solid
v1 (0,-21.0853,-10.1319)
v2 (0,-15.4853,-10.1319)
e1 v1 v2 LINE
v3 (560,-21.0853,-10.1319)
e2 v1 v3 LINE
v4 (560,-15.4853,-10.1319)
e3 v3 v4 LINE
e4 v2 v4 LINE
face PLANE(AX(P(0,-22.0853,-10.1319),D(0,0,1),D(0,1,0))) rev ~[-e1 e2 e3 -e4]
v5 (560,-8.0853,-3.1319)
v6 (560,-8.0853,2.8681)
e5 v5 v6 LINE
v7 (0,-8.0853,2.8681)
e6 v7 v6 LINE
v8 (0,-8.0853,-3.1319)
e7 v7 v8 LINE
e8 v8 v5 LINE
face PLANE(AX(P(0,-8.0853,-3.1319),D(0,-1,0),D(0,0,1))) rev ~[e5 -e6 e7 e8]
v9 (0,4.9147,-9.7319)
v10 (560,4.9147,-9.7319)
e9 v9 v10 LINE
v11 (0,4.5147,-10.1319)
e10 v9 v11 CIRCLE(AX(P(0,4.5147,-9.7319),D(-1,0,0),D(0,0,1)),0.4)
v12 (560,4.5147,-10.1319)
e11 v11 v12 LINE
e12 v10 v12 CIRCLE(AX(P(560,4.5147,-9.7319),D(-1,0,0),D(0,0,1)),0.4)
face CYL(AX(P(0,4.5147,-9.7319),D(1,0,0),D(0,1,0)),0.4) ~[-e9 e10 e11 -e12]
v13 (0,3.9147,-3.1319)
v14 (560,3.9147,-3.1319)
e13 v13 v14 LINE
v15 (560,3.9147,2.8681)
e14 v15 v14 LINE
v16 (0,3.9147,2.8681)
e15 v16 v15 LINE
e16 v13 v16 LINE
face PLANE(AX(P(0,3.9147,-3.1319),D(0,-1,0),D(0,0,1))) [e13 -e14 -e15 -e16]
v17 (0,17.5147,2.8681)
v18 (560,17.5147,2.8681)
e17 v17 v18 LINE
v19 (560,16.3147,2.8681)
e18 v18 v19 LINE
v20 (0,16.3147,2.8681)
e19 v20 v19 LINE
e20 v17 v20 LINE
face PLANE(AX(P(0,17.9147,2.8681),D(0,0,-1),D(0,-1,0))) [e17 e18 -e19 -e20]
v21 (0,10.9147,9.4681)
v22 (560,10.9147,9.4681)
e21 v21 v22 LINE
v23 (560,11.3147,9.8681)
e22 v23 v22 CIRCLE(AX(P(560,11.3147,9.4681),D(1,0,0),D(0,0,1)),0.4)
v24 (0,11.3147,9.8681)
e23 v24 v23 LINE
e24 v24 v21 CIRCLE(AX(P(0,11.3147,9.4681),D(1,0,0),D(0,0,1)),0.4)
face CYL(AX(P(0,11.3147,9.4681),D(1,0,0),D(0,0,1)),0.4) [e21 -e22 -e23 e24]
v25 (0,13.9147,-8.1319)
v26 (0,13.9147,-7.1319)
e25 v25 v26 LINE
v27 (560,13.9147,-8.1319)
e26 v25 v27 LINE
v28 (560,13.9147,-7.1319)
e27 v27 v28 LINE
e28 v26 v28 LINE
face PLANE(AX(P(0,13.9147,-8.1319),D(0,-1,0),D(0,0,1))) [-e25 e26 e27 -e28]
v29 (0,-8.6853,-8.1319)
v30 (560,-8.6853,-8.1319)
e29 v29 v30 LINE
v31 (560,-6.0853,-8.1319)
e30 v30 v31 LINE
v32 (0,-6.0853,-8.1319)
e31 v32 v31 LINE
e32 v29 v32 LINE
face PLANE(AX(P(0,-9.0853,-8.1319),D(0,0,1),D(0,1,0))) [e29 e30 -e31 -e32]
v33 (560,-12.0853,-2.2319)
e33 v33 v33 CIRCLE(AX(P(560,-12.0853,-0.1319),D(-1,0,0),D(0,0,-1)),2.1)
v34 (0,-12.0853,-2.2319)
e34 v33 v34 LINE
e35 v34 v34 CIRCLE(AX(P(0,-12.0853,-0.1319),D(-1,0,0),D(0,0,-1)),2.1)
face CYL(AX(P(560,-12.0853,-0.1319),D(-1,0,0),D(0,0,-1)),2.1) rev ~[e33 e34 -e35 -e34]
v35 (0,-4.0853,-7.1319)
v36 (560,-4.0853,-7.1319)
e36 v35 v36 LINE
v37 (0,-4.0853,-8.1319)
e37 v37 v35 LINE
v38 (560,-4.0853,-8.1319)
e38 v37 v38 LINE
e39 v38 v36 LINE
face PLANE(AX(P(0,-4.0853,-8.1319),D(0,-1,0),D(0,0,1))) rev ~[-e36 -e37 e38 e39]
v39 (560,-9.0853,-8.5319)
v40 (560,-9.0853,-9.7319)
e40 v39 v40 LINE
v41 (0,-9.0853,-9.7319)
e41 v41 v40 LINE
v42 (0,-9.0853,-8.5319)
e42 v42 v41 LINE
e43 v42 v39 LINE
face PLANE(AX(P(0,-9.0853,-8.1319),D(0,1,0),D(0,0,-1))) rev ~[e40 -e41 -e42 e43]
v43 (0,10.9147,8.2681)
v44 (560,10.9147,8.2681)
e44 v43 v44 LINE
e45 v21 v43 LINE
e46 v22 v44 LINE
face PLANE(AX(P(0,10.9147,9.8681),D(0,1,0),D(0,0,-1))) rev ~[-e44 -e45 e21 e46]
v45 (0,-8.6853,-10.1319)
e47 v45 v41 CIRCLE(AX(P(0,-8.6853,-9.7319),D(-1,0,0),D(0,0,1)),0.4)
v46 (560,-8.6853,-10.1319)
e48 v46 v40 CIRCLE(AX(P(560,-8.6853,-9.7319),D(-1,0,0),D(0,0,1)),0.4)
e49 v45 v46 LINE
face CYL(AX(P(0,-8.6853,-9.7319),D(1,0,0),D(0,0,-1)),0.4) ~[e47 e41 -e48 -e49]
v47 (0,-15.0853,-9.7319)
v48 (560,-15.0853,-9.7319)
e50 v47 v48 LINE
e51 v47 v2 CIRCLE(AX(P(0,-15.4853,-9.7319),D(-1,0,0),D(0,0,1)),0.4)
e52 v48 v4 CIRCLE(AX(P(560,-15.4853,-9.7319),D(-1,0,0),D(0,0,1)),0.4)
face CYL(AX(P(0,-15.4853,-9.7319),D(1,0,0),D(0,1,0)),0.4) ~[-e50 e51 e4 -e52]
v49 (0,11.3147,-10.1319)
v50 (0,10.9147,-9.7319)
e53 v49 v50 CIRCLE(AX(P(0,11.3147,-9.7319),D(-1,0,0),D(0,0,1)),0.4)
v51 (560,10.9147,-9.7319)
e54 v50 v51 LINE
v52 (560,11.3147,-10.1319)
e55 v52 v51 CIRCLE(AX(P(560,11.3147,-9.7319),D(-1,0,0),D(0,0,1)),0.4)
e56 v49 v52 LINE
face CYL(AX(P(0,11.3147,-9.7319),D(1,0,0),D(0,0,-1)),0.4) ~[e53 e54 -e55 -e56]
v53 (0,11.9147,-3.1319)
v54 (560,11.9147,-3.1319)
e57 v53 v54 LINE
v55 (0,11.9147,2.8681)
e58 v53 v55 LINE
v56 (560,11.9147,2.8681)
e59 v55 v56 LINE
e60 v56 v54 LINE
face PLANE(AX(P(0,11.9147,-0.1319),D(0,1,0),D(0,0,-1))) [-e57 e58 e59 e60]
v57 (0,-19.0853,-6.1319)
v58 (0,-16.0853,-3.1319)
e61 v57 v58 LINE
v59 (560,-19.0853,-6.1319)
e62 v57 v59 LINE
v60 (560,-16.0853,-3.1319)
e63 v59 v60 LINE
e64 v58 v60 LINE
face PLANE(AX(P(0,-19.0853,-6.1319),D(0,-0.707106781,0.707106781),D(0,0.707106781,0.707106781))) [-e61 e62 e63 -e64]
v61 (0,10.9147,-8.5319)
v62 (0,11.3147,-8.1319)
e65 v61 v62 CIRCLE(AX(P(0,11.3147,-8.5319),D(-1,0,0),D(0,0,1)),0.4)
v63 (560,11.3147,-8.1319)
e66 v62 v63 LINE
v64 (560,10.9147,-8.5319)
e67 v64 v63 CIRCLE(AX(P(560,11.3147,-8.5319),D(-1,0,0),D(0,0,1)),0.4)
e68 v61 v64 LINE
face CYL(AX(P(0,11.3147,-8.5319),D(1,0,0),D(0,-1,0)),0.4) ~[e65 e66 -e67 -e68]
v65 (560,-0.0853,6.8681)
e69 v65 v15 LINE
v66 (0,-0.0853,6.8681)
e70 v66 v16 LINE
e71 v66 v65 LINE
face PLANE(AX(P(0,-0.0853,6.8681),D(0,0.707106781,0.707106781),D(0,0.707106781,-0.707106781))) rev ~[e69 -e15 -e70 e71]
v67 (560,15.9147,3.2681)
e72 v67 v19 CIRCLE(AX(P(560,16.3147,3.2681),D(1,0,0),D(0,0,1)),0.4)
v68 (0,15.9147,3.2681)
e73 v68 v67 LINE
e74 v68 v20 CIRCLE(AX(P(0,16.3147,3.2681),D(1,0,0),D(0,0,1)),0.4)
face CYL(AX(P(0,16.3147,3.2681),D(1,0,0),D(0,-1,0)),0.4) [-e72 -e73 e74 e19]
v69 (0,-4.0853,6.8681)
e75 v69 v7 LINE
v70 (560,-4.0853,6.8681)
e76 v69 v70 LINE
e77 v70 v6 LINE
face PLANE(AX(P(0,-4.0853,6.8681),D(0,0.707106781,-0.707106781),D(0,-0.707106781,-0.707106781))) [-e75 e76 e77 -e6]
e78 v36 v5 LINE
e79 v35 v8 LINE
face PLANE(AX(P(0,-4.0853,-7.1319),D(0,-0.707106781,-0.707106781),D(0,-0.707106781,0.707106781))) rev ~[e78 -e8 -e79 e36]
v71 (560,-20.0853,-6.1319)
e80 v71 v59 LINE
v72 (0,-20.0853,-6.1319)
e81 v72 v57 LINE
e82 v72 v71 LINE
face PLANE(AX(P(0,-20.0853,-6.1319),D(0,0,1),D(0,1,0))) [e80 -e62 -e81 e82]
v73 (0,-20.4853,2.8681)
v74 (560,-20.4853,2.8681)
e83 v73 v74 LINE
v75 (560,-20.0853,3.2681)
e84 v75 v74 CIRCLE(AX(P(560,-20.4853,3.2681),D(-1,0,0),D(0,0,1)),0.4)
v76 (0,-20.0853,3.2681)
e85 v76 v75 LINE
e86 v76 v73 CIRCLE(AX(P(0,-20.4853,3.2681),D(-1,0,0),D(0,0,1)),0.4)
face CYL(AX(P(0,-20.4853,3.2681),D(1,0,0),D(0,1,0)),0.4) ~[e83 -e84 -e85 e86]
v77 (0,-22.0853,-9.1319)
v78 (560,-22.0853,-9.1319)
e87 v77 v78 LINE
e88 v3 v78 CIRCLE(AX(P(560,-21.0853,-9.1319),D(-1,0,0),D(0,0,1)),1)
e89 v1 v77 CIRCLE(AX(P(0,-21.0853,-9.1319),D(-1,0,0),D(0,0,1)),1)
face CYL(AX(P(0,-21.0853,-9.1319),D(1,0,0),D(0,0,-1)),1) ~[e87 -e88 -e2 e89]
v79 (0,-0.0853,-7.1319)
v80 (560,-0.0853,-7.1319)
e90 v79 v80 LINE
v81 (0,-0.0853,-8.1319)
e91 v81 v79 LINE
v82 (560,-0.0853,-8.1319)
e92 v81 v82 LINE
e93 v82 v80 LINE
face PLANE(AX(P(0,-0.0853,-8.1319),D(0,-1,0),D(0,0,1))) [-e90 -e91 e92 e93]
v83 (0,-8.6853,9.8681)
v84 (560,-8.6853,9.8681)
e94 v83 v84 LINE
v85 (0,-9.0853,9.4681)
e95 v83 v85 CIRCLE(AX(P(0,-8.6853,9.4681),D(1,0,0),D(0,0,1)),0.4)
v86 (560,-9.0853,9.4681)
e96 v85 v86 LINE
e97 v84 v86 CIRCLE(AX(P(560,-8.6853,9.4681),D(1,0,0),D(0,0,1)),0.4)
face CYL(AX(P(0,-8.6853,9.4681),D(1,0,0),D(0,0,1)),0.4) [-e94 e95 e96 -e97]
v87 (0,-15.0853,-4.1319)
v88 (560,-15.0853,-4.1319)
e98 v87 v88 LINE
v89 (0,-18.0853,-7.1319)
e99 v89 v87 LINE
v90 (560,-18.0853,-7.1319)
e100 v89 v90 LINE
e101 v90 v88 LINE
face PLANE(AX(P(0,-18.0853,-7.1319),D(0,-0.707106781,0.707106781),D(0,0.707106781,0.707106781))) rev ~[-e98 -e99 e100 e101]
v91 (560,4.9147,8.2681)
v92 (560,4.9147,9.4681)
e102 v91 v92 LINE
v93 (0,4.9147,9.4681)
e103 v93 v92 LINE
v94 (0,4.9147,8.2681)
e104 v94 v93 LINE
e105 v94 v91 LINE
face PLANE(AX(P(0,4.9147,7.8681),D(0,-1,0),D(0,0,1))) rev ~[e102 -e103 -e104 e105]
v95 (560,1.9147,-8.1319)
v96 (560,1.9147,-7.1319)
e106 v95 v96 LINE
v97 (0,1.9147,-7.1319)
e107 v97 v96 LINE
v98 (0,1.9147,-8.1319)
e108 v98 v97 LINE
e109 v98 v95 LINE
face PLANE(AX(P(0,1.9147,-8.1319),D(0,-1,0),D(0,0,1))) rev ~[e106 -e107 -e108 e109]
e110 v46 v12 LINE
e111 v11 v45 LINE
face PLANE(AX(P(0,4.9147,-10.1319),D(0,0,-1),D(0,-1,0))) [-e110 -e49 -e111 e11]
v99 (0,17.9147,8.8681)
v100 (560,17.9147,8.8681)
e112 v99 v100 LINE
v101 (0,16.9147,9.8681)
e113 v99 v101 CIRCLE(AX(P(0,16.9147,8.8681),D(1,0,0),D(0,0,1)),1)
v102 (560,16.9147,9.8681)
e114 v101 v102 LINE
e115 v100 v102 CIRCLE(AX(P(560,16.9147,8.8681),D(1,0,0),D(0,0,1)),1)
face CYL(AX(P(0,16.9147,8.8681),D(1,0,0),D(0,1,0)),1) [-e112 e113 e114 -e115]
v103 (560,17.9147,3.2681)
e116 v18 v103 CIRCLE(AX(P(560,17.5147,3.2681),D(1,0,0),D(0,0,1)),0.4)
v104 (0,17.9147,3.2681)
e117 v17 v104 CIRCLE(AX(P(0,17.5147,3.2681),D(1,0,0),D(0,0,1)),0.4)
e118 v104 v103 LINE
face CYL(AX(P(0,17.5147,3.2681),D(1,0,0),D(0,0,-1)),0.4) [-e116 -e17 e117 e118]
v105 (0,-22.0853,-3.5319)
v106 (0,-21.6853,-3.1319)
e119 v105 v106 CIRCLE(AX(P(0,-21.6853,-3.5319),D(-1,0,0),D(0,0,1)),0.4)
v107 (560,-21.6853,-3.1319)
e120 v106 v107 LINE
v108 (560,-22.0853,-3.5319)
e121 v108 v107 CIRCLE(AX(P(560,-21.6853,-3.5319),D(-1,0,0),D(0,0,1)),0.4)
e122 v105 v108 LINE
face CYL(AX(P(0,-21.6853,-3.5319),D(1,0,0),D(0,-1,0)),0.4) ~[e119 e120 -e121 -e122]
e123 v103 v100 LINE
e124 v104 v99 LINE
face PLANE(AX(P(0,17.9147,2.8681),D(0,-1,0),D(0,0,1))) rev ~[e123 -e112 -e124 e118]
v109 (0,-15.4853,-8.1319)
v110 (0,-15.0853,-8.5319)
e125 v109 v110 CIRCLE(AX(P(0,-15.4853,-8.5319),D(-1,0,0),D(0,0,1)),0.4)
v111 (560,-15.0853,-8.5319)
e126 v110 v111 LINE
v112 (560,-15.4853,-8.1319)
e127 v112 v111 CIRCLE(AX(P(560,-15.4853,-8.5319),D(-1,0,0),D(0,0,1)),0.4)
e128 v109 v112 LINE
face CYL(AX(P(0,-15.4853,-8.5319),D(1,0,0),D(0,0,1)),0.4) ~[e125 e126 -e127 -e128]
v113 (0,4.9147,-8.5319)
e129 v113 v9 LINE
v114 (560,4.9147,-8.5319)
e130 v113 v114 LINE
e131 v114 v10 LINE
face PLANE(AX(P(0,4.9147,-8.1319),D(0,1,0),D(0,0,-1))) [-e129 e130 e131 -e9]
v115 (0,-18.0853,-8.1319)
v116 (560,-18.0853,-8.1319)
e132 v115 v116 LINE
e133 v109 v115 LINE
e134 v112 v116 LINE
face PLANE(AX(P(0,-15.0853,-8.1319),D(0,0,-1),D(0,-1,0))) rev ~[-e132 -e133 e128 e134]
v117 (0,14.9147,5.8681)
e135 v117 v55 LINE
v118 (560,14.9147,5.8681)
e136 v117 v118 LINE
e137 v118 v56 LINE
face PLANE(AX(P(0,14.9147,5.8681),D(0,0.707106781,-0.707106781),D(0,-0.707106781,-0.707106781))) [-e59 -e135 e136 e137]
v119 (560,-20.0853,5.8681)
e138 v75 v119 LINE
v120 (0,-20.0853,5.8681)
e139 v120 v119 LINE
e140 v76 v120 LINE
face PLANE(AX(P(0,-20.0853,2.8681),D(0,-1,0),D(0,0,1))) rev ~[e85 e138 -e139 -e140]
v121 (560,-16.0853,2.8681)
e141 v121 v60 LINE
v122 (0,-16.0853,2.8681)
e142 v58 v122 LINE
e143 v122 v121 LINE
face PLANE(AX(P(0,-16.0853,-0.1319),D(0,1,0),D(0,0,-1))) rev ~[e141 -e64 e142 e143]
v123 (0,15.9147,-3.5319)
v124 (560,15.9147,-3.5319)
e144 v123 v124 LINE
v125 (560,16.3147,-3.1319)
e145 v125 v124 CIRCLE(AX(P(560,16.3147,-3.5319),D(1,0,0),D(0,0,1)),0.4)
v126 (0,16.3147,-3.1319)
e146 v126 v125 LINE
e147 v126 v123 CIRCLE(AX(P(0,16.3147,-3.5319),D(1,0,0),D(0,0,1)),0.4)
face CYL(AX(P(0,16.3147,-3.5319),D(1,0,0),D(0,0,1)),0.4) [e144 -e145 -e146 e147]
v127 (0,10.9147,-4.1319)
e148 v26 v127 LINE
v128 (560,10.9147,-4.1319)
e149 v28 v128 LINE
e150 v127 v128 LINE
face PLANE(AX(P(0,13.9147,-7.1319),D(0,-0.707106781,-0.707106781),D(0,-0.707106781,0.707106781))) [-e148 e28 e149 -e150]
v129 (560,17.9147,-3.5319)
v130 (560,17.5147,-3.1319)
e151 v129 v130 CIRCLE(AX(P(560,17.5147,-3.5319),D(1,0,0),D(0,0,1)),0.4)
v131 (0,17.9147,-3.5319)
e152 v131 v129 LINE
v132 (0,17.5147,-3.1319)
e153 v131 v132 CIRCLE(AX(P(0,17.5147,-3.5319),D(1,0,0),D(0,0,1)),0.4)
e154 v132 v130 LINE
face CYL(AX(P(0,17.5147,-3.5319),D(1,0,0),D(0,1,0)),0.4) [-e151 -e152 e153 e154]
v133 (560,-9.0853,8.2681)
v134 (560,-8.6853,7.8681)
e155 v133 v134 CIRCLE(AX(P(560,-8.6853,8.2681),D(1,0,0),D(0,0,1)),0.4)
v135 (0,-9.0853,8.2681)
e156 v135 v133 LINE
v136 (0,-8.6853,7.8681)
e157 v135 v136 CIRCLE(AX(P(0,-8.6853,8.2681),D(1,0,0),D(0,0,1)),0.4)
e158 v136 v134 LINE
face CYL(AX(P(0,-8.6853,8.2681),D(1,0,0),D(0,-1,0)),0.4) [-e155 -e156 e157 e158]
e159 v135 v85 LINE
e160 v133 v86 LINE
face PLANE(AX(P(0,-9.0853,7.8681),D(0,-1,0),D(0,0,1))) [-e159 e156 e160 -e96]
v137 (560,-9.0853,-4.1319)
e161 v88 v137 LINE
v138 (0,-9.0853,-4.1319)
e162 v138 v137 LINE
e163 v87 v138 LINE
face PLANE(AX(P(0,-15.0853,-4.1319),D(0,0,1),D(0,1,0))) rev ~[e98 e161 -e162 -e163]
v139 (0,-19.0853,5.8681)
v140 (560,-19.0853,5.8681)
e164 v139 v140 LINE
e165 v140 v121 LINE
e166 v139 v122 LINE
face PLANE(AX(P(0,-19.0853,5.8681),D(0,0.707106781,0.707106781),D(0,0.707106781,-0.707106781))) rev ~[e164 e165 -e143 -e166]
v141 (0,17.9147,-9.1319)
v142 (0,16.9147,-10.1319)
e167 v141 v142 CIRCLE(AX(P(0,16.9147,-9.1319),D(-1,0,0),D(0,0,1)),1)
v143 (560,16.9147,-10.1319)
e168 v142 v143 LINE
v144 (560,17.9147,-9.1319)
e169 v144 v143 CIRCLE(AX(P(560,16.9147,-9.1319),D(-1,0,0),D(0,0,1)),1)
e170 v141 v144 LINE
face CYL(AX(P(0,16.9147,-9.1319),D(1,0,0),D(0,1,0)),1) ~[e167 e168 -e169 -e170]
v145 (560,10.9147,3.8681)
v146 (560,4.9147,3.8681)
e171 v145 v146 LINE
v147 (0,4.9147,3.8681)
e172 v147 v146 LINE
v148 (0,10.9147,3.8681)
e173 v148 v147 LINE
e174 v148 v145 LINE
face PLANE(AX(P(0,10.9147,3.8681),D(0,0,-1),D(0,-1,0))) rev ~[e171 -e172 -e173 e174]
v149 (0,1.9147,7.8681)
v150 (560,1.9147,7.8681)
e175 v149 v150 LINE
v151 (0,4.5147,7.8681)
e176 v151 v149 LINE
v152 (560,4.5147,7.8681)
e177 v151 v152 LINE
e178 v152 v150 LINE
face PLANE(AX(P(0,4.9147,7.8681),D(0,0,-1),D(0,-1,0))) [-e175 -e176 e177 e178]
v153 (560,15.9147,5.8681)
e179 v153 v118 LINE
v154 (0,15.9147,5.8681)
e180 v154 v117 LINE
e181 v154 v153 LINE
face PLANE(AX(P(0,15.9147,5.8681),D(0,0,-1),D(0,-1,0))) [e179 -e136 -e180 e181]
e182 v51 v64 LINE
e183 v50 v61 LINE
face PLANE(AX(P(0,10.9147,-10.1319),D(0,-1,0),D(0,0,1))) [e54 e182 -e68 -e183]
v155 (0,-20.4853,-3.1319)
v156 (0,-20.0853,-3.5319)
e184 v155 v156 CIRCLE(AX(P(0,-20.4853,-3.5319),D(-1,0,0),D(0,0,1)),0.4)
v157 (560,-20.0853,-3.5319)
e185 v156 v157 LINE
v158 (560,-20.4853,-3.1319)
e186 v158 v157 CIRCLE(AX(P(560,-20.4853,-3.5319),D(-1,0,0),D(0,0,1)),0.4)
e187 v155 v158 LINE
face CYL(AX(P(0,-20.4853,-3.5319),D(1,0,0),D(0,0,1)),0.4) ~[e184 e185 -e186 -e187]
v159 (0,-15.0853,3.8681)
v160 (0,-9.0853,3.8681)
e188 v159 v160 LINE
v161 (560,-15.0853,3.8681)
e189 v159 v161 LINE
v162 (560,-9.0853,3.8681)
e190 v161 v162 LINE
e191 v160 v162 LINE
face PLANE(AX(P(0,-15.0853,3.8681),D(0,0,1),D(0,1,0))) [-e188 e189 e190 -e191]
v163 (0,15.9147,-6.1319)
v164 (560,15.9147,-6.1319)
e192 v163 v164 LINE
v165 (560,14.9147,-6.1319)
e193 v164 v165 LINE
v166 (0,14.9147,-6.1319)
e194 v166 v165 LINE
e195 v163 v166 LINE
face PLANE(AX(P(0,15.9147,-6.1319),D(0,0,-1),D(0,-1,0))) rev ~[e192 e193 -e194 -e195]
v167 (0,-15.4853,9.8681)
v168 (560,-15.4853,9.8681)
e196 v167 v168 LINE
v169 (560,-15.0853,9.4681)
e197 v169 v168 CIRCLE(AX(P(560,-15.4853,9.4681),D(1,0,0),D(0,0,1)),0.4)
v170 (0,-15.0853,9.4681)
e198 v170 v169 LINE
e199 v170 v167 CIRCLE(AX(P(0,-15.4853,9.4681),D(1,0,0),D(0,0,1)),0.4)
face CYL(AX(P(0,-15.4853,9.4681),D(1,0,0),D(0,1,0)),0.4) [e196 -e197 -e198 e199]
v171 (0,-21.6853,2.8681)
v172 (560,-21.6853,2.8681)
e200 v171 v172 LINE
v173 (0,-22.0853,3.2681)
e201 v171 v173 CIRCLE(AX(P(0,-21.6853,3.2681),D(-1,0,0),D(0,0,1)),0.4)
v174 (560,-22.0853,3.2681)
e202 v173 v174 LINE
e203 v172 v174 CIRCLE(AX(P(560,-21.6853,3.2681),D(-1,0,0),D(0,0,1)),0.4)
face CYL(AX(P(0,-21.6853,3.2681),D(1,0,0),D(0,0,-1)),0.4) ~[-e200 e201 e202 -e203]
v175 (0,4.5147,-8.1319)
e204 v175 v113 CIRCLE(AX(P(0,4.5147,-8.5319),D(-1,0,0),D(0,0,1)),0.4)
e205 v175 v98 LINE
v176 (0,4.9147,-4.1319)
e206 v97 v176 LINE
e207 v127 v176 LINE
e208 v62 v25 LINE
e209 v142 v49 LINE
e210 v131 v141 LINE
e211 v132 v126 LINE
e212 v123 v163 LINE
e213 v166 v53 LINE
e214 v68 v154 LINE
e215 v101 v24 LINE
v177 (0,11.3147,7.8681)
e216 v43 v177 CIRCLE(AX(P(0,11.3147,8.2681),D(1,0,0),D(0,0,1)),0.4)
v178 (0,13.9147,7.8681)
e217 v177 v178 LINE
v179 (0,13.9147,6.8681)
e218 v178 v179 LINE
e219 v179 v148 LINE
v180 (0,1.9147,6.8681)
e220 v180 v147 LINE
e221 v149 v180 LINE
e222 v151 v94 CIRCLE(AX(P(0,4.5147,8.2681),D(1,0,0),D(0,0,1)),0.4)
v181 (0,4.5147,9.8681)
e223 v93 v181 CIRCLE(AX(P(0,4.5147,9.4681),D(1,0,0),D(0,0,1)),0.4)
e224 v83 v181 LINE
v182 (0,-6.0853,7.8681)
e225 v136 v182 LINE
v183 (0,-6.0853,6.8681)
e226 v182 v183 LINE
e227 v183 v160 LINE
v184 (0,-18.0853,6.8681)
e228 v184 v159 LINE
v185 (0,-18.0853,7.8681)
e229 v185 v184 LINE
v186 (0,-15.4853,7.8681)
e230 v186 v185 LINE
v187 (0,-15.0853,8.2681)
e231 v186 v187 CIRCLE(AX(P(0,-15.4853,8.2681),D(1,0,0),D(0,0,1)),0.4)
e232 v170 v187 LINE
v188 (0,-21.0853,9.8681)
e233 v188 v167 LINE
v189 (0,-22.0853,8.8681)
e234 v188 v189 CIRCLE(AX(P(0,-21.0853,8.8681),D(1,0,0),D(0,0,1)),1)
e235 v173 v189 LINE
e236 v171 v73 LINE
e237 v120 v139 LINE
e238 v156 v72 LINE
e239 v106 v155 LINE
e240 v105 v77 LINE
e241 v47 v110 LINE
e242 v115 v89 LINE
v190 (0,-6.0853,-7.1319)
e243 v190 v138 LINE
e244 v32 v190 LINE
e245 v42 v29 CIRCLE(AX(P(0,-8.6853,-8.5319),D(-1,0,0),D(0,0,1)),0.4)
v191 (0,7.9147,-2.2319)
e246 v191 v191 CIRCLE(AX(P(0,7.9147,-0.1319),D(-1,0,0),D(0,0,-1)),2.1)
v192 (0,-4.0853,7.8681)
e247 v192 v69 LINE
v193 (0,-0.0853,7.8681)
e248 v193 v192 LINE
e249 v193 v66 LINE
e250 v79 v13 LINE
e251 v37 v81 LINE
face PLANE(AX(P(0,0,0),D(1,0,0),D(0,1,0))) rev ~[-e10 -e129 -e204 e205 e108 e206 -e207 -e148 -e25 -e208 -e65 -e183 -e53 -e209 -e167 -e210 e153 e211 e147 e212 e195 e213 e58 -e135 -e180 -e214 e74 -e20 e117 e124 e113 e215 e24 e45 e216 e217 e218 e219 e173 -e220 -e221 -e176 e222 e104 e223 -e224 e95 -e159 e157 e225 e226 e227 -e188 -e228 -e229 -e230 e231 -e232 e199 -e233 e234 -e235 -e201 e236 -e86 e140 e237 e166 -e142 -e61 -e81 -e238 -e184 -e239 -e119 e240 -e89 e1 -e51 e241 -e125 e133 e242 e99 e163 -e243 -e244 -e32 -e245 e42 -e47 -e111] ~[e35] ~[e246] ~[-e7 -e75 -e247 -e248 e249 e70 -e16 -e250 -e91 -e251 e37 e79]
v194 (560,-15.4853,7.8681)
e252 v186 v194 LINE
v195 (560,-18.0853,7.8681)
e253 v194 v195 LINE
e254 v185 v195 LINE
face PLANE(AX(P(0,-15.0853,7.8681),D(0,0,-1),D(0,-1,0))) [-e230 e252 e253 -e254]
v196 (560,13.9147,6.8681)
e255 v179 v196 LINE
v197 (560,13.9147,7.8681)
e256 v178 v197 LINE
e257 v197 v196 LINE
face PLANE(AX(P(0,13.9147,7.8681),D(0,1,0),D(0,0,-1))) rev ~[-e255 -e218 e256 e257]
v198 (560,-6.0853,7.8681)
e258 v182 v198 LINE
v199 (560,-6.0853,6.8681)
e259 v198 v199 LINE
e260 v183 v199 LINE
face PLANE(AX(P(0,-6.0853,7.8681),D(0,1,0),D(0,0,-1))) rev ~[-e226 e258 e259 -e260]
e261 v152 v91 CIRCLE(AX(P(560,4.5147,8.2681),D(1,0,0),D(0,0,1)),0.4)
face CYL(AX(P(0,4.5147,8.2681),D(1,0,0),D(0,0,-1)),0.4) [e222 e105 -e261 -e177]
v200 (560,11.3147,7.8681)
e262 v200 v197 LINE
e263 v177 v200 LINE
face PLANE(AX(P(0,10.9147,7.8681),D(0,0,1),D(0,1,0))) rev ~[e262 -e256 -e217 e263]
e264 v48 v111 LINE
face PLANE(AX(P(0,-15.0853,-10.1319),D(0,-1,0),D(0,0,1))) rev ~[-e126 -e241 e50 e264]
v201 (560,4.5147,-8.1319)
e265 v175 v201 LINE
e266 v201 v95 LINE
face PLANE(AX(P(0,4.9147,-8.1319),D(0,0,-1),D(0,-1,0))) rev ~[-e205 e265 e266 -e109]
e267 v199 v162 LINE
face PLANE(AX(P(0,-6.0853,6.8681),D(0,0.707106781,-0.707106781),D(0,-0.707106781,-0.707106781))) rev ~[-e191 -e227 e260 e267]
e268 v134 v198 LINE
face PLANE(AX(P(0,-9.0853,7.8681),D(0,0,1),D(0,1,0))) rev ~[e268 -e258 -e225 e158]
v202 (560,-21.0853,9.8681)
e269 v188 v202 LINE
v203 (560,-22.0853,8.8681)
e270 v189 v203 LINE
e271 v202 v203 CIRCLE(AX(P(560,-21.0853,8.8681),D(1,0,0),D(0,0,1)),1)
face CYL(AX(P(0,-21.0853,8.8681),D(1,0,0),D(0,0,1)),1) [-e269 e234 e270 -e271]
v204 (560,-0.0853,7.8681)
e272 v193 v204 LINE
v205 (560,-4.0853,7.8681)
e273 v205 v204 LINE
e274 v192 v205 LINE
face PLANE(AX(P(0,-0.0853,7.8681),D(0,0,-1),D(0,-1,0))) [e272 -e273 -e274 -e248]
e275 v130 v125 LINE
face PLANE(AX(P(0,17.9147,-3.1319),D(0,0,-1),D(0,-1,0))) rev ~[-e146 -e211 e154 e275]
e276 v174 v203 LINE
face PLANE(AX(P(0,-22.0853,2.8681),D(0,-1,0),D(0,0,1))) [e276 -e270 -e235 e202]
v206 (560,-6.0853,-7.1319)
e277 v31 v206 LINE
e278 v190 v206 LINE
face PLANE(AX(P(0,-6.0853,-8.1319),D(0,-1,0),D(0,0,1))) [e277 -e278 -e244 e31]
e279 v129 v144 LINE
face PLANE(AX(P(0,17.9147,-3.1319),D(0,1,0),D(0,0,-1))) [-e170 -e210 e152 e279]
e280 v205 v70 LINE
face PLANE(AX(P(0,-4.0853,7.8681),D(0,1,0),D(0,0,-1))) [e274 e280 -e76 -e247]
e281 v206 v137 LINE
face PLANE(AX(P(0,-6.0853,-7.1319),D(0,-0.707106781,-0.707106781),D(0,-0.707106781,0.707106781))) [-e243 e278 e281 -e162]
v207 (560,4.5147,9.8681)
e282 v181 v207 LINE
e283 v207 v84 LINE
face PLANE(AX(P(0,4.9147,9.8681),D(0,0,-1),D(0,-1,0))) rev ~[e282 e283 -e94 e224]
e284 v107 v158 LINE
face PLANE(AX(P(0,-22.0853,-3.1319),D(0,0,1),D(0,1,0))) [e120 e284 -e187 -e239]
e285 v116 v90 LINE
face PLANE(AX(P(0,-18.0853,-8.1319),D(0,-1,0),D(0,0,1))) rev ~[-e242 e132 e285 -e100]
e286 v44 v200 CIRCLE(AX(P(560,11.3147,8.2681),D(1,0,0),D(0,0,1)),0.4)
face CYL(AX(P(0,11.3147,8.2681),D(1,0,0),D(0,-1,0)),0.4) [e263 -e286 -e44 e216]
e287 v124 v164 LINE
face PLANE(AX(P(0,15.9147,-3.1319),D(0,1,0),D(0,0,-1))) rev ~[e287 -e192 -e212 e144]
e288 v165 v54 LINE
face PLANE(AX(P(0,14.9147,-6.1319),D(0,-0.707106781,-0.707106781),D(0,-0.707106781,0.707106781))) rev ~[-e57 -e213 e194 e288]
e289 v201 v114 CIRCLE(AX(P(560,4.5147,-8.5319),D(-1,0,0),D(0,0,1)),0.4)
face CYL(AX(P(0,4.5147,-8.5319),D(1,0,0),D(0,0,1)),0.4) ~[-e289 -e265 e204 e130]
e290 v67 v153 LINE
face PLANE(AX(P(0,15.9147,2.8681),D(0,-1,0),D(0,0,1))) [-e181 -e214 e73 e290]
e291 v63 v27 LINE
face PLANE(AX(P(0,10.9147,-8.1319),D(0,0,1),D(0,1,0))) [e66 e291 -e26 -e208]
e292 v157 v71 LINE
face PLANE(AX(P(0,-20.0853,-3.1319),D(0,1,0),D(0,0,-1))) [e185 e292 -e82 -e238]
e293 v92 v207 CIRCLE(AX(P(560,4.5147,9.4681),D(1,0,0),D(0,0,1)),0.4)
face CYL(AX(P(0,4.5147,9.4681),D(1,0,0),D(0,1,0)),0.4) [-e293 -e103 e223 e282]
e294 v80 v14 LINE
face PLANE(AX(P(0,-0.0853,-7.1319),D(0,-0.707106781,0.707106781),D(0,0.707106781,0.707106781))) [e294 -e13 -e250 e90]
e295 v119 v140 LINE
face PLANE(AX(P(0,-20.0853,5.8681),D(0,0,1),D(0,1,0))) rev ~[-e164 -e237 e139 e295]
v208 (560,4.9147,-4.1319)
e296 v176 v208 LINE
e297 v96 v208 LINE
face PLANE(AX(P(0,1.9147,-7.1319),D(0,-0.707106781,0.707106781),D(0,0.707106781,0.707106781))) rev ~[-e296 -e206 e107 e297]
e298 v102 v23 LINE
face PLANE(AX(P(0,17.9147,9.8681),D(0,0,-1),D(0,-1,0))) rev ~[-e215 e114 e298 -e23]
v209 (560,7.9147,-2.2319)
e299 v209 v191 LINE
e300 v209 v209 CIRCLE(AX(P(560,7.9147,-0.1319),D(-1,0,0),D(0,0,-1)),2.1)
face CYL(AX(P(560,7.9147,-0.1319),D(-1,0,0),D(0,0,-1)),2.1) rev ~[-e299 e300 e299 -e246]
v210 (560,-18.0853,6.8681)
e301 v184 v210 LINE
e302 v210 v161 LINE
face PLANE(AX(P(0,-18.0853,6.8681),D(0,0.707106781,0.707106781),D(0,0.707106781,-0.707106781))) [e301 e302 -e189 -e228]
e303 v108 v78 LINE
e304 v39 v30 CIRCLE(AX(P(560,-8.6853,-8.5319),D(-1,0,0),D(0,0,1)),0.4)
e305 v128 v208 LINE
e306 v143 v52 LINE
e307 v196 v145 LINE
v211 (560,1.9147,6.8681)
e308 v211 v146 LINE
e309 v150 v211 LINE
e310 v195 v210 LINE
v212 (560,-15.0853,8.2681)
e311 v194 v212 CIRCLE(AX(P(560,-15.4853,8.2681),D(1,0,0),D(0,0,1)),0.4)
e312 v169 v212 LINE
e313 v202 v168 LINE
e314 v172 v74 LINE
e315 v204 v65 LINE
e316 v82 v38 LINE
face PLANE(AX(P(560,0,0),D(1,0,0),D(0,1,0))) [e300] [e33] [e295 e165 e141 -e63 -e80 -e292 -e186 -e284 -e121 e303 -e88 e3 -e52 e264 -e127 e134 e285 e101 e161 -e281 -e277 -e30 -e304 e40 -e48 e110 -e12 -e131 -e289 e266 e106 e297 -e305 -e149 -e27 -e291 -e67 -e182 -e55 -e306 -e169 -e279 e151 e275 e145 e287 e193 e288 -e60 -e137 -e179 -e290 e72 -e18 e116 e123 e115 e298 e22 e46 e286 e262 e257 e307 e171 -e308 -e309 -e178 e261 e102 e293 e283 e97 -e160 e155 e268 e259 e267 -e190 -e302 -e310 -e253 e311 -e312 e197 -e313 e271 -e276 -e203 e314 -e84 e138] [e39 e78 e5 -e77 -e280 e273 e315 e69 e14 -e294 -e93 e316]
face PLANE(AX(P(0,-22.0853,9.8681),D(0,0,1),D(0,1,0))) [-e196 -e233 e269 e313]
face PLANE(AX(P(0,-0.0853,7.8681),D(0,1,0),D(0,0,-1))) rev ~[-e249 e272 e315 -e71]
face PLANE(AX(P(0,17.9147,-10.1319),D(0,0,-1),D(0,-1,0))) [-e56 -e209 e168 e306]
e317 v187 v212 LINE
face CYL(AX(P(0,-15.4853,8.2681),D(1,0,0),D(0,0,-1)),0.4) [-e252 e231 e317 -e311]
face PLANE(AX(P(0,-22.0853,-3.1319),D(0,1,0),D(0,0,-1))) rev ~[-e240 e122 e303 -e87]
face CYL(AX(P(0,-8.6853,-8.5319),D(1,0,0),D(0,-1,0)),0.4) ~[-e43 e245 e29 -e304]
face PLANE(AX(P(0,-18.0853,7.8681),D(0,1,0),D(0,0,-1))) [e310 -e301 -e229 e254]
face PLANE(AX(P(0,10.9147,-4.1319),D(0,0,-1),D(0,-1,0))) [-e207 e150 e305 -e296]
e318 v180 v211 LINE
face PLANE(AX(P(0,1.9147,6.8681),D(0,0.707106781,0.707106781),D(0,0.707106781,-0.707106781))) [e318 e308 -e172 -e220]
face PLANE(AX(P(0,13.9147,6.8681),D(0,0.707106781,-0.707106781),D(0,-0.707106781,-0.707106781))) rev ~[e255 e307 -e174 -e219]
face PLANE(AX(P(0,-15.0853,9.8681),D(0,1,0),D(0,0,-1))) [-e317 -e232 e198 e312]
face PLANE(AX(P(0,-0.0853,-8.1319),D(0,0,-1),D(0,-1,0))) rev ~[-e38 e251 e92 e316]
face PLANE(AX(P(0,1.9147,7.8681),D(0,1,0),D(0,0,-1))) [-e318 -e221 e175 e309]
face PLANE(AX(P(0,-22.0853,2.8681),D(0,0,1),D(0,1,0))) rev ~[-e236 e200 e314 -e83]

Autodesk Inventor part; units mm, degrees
ref_plane "YZ Plane" through (0, 0, 0) normal (1, 0, 0) x (0, 1, 0)
ref_plane "XZ Plane" through (0, 0, 0) normal (0, 1, 0) x (-1, 0, 0)
ref_plane "XY Plane" through (0, 0, 0) normal (0, 0, 1) x (1, 0, 0)
sketch "Szkic1" plane through (0, 0, 0) normal (1, 0, 0) x (0, 1, 0)
  line L0 (23.5169, -0.1319) -> (-36.4831, -0.1319)
  line L1 (-2.0853, 36.7703) -> (-2.0853, -38.5298)
  line L2 (17.9147, 2.8681) -> (15.9147, 2.8681)
  line L3 (17.9147, 2.8681) -> (17.9147, 9.8681)
  line L4 (17.9147, 9.8681) -> (10.9147, 9.8681)
  line L5 (10.9147, 9.8681) -> (10.9147, 7.8681)
  line L6 (15.9147, 2.8681) -> (15.9147, 5.8681)
  line L7 (10.9147, 7.8681) -> (13.9147, 7.8681)
  line L8 (13.9147, 7.8681) -> (13.9147, 6.8681)
  line L9 (15.9147, 5.8681) -> (14.9147, 5.8681)
  line L10 (11.9147, -0.1319) -> (11.9147, 2.8681)
  line L11 (10.9147, 3.8681) -> (4.9147, 3.8681)
  line L12 (3.9147, 2.8681) -> (3.9147, -0.1319)
  line L13 (4.9147, 7.8681) -> (4.9147, 9.8681)
  line L14 (4.9147, 9.8681) -> (-2.0853, 9.8681)
  line L15 (4.9147, 7.8681) -> (1.9147, 7.8681)
  line L16 (1.9147, 7.8681) -> (1.9147, 6.8681)
  line L17 (-0.0853, 7.8681) -> (-0.0853, 6.8681)
  line L18 (-0.0853, 7.8681) -> (-2.0853, 7.8681)
  line L19 (1.9147, 6.8681) -> (4.9147, 3.8681)
  line L20 (1.9147, 6.8681) -> (8.4857, 6.8681) construction
  line L21 (-0.0853, 6.8681) -> (3.9147, 2.8681)
  line L22 (-0.0853, 6.8681) -> (7.9037, 6.8681) construction
  line L23 (14.9147, 5.8681) -> (11.9147, 2.8681)
  line L24 (14.9147, 5.8681) -> (20.5717, 5.8681) construction
  line L25 (13.9147, 6.8681) -> (10.9147, 3.8681)
  line L26 (13.9147, 6.8681) -> (19.5717, 6.8681) construction
  line L27 (17.9147, -3.1319) -> (15.9147, -3.1319)
  line L28 (17.9147, -3.1319) -> (17.9147, -10.1319)
  line L29 (17.9147, -10.1319) -> (10.9147, -10.1319)
  line L30 (10.9147, -10.1319) -> (10.9147, -8.1319)
  line L31 (15.9147, -3.1319) -> (15.9147, -6.1319)
  line L32 (10.9147, -8.1319) -> (13.9147, -8.1319)
  line L33 (13.9147, -8.1319) -> (13.9147, -7.1319)
  line L34 (15.9147, -6.1319) -> (14.9147, -6.1319)
  line L35 (11.9147, -0.1319) -> (11.9147, -3.1319)
  line L36 (10.9147, -4.1319) -> (4.9147, -4.1319)
  line L37 (3.9147, -3.1319) -> (3.9147, -0.1319)
  line L38 (4.9147, -8.1319) -> (4.9147, -10.1319)
  line L39 (4.9147, -10.1319) -> (-2.0853, -10.1319)
  line L40 (4.9147, -8.1319) -> (1.9147, -8.1319)
  line L41 (1.9147, -8.1319) -> (1.9147, -7.1319)
  line L42 (-0.0853, -8.1319) -> (-0.0853, -7.1319)
  line L43 (-0.0853, -8.1319) -> (-2.0853, -8.1319)
  line L44 (1.9147, -7.1319) -> (4.9147, -4.1319)
  line L45 (1.9147, -7.1319) -> (8.4857, -7.1319) construction
  line L46 (-0.0853, -7.1319) -> (3.9147, -3.1319)
  line L47 (-0.0853, -7.1319) -> (7.9037, -7.1319) construction
  line L48 (14.9147, -6.1319) -> (11.9147, -3.1319)
  line L49 (13.9147, -7.1319) -> (10.9147, -4.1319)
  line L50 (13.9147, -7.1319) -> (19.5717, -7.1319) construction
  line L51 (-22.0853, 2.8681) -> (-20.0853, 2.8681)
  line L52 (-22.0853, 2.8681) -> (-22.0853, 9.8681)
  line L53 (-22.0853, 9.8681) -> (-15.0853, 9.8681)
  line L54 (-15.0853, 9.8681) -> (-15.0853, 7.8681)
  line L55 (-20.0853, 2.8681) -> (-20.0853, 5.8681)
  line L56 (-15.0853, 7.8681) -> (-18.0853, 7.8681)
  line L57 (-18.0853, 7.8681) -> (-18.0853, 6.8681)
  line L58 (-20.0853, 5.8681) -> (-19.0853, 5.8681)
  line L59 (-16.0853, -0.1319) -> (-16.0853, 2.8681)
  line L60 (-15.0853, 3.8681) -> (-9.0853, 3.8681)
  line L61 (-8.0853, 2.8681) -> (-8.0853, -0.1319)
  line L62 (-9.0853, 7.8681) -> (-9.0853, 9.8681)
  line L63 (-9.0853, 9.8681) -> (-2.0853, 9.8681)
  line L64 (-9.0853, 7.8681) -> (-6.0853, 7.8681)
  line L65 (-6.0853, 7.8681) -> (-6.0853, 6.8681)
  line L66 (-4.0853, 7.8681) -> (-4.0853, 6.8681)
  line L67 (-4.0853, 7.8681) -> (-2.0853, 7.8681)
  line L68 (-6.0853, 6.8681) -> (-9.0853, 3.8681)
  line L69 (-6.0853, 6.8681) -> (-12.6563, 6.8681) construction
  line L70 (-4.0853, 6.8681) -> (-8.0853, 2.8681)
  line L71 (-4.0853, 6.8681) -> (-12.0743, 6.8681) construction
  line L72 (-19.0853, 5.8681) -> (-16.0853, 2.8681)
  line L73 (-19.0853, 5.8681) -> (-24.7423, 5.8681) construction
  line L74 (-18.0853, 6.8681) -> (-15.0853, 3.8681)
  line L75 (-18.0853, 6.8681) -> (-23.7423, 6.8681) construction
  line L76 (-6.0853, -7.1319) -> (-12.6563, -7.1319) construction
  line L77 (-6.0853, -7.1319) -> (-9.0853, -4.1319)
  line L78 (-4.0853, -7.1319) -> (-12.0743, -7.1319) construction
  line L79 (-4.0853, -8.1319) -> (-4.0853, -7.1319)
  line L80 (-4.0853, -7.1319) -> (-8.0853, -3.1319)
  line L81 (-6.0853, -8.1319) -> (-6.0853, -7.1319)
  line L82 (-9.0853, -8.1319) -> (-6.0853, -8.1319)
  line L83 (-4.0853, -8.1319) -> (-2.0853, -8.1319)
  line L84 (-15.0853, -10.1319) -> (-15.0853, -8.1319)
  line L85 (-9.0853, -10.1319) -> (-2.0853, -10.1319)
  line L86 (-9.0853, -8.1319) -> (-9.0853, -10.1319)
  line L87 (-15.0853, -4.1319) -> (-9.0853, -4.1319)
  line L88 (-8.0853, -3.1319) -> (-8.0853, -0.1319)
  line L89 (-22.0853, -3.1319) -> (-20.0853, -3.1319)
  line L90 (-22.0853, -3.1319) -> (-22.0853, -10.1319)
  line L91 (-22.0853, -10.1319) -> (-15.0853, -10.1319)
  line L92 (-20.0853, -3.1319) -> (-20.0853, -6.1319)
  line L93 (-15.0853, -8.1319) -> (-18.0853, -8.1319)
  line L94 (-18.0853, -8.1319) -> (-18.0853, -7.1319)
  line L95 (-20.0853, -6.1319) -> (-19.0853, -6.1319)
  line L96 (-18.0853, -7.1319) -> (-15.0853, -4.1319)
  line L97 (-19.0853, -6.1319) -> (-16.0853, -3.1319)
  line L98 (-18.0853, -7.1319) -> (-23.7423, -7.1319) construction
  line L99 (-16.0853, -0.1319) -> (-16.0853, -3.1319)
  point P0 (0, 0)
  point P1 (0, -0.2637)
  point P2 (-4.1707, 0)
  point P3 (-4.1707, -0.2637)
  dimension "d1" = 2
  dimension "d2" = 3
  dimension "d3" = 7
  dimension "d4" = 7
  dimension "d5" = 2
  dimension "d6" = 3
  dimension "d7" = 3
  dimension "d8" = 1
  dimension "d9" = 1
  dimension "d12" = 6
  dimension "d13" = 2
  dimension "d14" = 7
  dimension "d15" = 6
  dimension "d16" = 3
  dimension "d17" = 1
  dimension "d18" = 1
  dimension "d19" = 2
  dimension "d20" = 8
  dimension "d22" = 45
  dimension "d24" = 45
  dimension "d26" = 135
  dimension "d28" = 135
  dimension "d29" = 6
  dimension "d30" = 4
  dimension "d31" = 3
  dimension "d32" = 3
  dimension "d33" = 8
  dimension "d34" = 1
extrude "Wyciągnięcie proste1" add sketch "Szkic1" along normal blind 560 contours L35 L48 L34 L31 L27 L28 L29 L30 L32 L33 L49 L36 L44 L41 L40 L38 L39 L1 L43 L42 L46 L37 L0 | L0 L12 L21 L17 L18 L1 L14 L13 L15 L16 L19 L11 L25 L8 L7 L5 L4 L3 L2 L6 L9 L23 L10 | L88 L80 L79 L83 L1 L85 L86 L82 L81 L77 L87 L96 L94 L93 L84 L91 L90 L89 L92 L95 L97 L99 L0 | L0 L59 L72 L58 L55 L51 L52 L53 L54 L56 L57 L74 L60 L68 L65 L64 L62 L63 L1 L67 L66 L70 L61
sketch "Szkic2" plane through (560, 0, 0) normal (1, 0, 0) x (0, 0, -1)
  line L0 (-7.8681, -4.0853) -> (-7.8681, -0.0853) projected
  line L1 (-7.8681, -0.0853) -> (-6.8681, -0.0853) projected
  line L2 (-6.8681, -0.0853) -> (-2.8681, 3.9147) projected
  line L3 (-2.8681, 3.9147) -> (3.1319, 3.9147) projected
  line L4 (3.1319, 3.9147) -> (7.1319, -0.0853) projected
  line L5 (7.1319, -0.0853) -> (8.1319, -0.0853) projected
  line L6 (8.1319, -0.0853) -> (8.1319, -4.0853) projected
  line L7 (8.1319, -4.0853) -> (7.1319, -4.0853) projected
  line L8 (7.1319, -4.0853) -> (3.1319, -8.0853) projected
  line L9 (3.1319, -8.0853) -> (-2.8681, -8.0853) projected
  line L10 (-2.8681, -8.0853) -> (-6.8681, -4.0853) projected
  line L11 (-6.8681, -4.0853) -> (-7.8681, -4.0853) projected
  line L12 (-9.8681, 4.9147) -> (-9.8681, -9.0853) projected
  line L13 (-9.8681, -9.0853) -> (-7.8681, -9.0853) projected
  line L14 (-7.8681, -9.0853) -> (-7.8681, -6.0853) projected
  line L15 (-7.8681, -6.0853) -> (-6.8681, -6.0853) projected
  line L16 (-6.8681, -6.0853) -> (-3.8681, -9.0853) projected
  line L17 (-3.8681, -9.0853) -> (-3.8681, -15.0853) projected
  line L18 (-3.8681, -15.0853) -> (-6.8681, -18.0853) projected
  line L19 (-6.8681, -18.0853) -> (-7.8681, -18.0853) projected
  line L20 (-7.8681, -18.0853) -> (-7.8681, -15.0853) projected
  line L21 (-7.8681, -15.0853) -> (-9.8681, -15.0853) projected
  line L22 (-9.8681, -15.0853) -> (-9.8681, -22.0853) projected
  line L23 (-9.8681, -22.0853) -> (-2.8681, -22.0853) projected
  line L24 (-2.8681, -22.0853) -> (-2.8681, -20.0853) projected
  line L25 (-2.8681, -20.0853) -> (-5.8681, -20.0853) projected
  line L26 (-5.8681, -20.0853) -> (-5.8681, -19.0853) projected
  line L27 (-5.8681, -19.0853) -> (-2.8681, -16.0853) projected
  line L28 (-2.8681, -16.0853) -> (3.1319, -16.0853) projected
  line L29 (3.1319, -16.0853) -> (6.1319, -19.0853) projected
  line L30 (6.1319, -19.0853) -> (6.1319, -20.0853) projected
  line L31 (6.1319, -20.0853) -> (3.1319, -20.0853) projected
  line L32 (3.1319, -20.0853) -> (3.1319, -22.0853) projected
  line L33 (3.1319, -22.0853) -> (10.1319, -22.0853) projected
  line L34 (10.1319, -22.0853) -> (10.1319, -15.0853) projected
  line L35 (10.1319, -15.0853) -> (8.1319, -15.0853) projected
  line L36 (8.1319, -15.0853) -> (8.1319, -18.0853) projected
  line L37 (8.1319, -18.0853) -> (7.1319, -18.0853) projected
  line L38 (7.1319, -18.0853) -> (4.1319, -15.0853) projected
  line L39 (4.1319, -15.0853) -> (4.1319, -9.0853) projected
  line L40 (4.1319, -9.0853) -> (7.1319, -6.0853) projected
  line L41 (7.1319, -6.0853) -> (8.1319, -6.0853) projected
  line L42 (8.1319, -6.0853) -> (8.1319, -9.0853) projected
  line L43 (8.1319, -9.0853) -> (10.1319, -9.0853) projected
  line L44 (10.1319, -9.0853) -> (10.1319, 4.9147) projected
  line L45 (10.1319, 4.9147) -> (8.1319, 4.9147) projected
  line L46 (8.1319, 4.9147) -> (8.1319, 1.9147) projected
  line L47 (8.1319, 1.9147) -> (7.1319, 1.9147) projected
  line L48 (7.1319, 1.9147) -> (4.1319, 4.9147) projected
  line L49 (4.1319, 4.9147) -> (4.1319, 10.9147) projected
  line L50 (4.1319, 10.9147) -> (7.1319, 13.9147) projected
  line L51 (7.1319, 13.9147) -> (8.1319, 13.9147) projected
  line L52 (8.1319, 13.9147) -> (8.1319, 10.9147) projected
  line L53 (8.1319, 10.9147) -> (10.1319, 10.9147) projected
  line L54 (10.1319, 10.9147) -> (10.1319, 17.9147) projected
  line L55 (10.1319, 17.9147) -> (3.1319, 17.9147) projected
  line L56 (3.1319, 17.9147) -> (3.1319, 15.9147) projected
  line L57 (3.1319, 15.9147) -> (6.1319, 15.9147) projected
  line L58 (6.1319, 15.9147) -> (6.1319, 14.9147) projected
  line L59 (6.1319, 14.9147) -> (3.1319, 11.9147) projected
  line L60 (3.1319, 11.9147) -> (-2.8681, 11.9147) projected
  line L61 (-2.8681, 11.9147) -> (-5.8681, 14.9147) projected
  line L62 (-5.8681, 14.9147) -> (-5.8681, 15.9147) projected
  line L63 (-5.8681, 15.9147) -> (-2.8681, 15.9147) projected
  line L64 (-2.8681, 15.9147) -> (-2.8681, 17.9147) projected
  line L65 (-2.8681, 17.9147) -> (-9.8681, 17.9147) projected
  line L66 (-9.8681, 17.9147) -> (-9.8681, 10.9147) projected
  line L67 (-9.8681, 10.9147) -> (-7.8681, 10.9147) projected
  line L68 (-7.8681, 10.9147) -> (-7.8681, 13.9147) projected
  line L69 (-7.8681, 13.9147) -> (-6.8681, 13.9147) projected
  line L70 (-6.8681, 13.9147) -> (-3.8681, 10.9147) projected
  line L71 (-3.8681, 10.9147) -> (-3.8681, 4.9147) projected
  line L72 (-3.8681, 4.9147) -> (-6.8681, 1.9147) projected
  line L73 (-6.8681, 1.9147) -> (-7.8681, 1.9147) projected
  line L74 (-7.8681, 1.9147) -> (-7.8681, 4.9147) projected
  line L75 (-7.8681, 4.9147) -> (-9.8681, 4.9147) projected
  point P0 (0, 0)
  point P1 (0.1319, 7.9147)
  point P2 (0.1319, -12.0853)
  dimension "d37" = 4
  dimension "d38" = 4
  dimension "d39" = 4
  dimension "d40" = 4
hole "Otwór1" at (560, 7.9147, -0.1319) at (560, -12.0853, -0.1319) direction (-1, 0, 0) diameter 4.2 end through all
fillet "Zaokrąglenie1" radius 1 4 edges at (280, 17.9147, -10.1319) (280, 17.9147, 9.8681) (280, -22.0853, -10.1319) (280, -22.0853, 9.8681)
fillet "Zaokrąglenie2" radius 0.4 24 edges at (280, 4.9147, -10.1319) (280, 4.9147, -8.1319) (280, 10.9147, -10.1319) (280, 10.9147, -8.1319) (280, 17.9147, -3.1319) (280, 15.9147, -3.1319) (280, 10.9147, 9.8681) (280, 17.9147, 2.8681) (280, 10.9147, 7.8681) (280, 15.9147, 2.8681) (280, 4.9147, 7.8681) (280, 4.9147, 9.8681) (280, -9.0853, 7.8681) (280, -9.0853, 9.8681) (280, -15.0853, 7.8681) (280, -15.0853, 9.8681) (280, -9.0853, -10.1319) (280, -9.0853, -8.1319) (280, -15.0853, -10.1319) (280, -15.0853, -8.1319) (280, -20.0853, -3.1319) (280, -22.0853, -3.1319) (280, -22.0853, 2.8681) (280, -20.0853, 2.8681)
properties part number "COTS_GENERIC_20x40mm_alu_extrusion_560mm"
